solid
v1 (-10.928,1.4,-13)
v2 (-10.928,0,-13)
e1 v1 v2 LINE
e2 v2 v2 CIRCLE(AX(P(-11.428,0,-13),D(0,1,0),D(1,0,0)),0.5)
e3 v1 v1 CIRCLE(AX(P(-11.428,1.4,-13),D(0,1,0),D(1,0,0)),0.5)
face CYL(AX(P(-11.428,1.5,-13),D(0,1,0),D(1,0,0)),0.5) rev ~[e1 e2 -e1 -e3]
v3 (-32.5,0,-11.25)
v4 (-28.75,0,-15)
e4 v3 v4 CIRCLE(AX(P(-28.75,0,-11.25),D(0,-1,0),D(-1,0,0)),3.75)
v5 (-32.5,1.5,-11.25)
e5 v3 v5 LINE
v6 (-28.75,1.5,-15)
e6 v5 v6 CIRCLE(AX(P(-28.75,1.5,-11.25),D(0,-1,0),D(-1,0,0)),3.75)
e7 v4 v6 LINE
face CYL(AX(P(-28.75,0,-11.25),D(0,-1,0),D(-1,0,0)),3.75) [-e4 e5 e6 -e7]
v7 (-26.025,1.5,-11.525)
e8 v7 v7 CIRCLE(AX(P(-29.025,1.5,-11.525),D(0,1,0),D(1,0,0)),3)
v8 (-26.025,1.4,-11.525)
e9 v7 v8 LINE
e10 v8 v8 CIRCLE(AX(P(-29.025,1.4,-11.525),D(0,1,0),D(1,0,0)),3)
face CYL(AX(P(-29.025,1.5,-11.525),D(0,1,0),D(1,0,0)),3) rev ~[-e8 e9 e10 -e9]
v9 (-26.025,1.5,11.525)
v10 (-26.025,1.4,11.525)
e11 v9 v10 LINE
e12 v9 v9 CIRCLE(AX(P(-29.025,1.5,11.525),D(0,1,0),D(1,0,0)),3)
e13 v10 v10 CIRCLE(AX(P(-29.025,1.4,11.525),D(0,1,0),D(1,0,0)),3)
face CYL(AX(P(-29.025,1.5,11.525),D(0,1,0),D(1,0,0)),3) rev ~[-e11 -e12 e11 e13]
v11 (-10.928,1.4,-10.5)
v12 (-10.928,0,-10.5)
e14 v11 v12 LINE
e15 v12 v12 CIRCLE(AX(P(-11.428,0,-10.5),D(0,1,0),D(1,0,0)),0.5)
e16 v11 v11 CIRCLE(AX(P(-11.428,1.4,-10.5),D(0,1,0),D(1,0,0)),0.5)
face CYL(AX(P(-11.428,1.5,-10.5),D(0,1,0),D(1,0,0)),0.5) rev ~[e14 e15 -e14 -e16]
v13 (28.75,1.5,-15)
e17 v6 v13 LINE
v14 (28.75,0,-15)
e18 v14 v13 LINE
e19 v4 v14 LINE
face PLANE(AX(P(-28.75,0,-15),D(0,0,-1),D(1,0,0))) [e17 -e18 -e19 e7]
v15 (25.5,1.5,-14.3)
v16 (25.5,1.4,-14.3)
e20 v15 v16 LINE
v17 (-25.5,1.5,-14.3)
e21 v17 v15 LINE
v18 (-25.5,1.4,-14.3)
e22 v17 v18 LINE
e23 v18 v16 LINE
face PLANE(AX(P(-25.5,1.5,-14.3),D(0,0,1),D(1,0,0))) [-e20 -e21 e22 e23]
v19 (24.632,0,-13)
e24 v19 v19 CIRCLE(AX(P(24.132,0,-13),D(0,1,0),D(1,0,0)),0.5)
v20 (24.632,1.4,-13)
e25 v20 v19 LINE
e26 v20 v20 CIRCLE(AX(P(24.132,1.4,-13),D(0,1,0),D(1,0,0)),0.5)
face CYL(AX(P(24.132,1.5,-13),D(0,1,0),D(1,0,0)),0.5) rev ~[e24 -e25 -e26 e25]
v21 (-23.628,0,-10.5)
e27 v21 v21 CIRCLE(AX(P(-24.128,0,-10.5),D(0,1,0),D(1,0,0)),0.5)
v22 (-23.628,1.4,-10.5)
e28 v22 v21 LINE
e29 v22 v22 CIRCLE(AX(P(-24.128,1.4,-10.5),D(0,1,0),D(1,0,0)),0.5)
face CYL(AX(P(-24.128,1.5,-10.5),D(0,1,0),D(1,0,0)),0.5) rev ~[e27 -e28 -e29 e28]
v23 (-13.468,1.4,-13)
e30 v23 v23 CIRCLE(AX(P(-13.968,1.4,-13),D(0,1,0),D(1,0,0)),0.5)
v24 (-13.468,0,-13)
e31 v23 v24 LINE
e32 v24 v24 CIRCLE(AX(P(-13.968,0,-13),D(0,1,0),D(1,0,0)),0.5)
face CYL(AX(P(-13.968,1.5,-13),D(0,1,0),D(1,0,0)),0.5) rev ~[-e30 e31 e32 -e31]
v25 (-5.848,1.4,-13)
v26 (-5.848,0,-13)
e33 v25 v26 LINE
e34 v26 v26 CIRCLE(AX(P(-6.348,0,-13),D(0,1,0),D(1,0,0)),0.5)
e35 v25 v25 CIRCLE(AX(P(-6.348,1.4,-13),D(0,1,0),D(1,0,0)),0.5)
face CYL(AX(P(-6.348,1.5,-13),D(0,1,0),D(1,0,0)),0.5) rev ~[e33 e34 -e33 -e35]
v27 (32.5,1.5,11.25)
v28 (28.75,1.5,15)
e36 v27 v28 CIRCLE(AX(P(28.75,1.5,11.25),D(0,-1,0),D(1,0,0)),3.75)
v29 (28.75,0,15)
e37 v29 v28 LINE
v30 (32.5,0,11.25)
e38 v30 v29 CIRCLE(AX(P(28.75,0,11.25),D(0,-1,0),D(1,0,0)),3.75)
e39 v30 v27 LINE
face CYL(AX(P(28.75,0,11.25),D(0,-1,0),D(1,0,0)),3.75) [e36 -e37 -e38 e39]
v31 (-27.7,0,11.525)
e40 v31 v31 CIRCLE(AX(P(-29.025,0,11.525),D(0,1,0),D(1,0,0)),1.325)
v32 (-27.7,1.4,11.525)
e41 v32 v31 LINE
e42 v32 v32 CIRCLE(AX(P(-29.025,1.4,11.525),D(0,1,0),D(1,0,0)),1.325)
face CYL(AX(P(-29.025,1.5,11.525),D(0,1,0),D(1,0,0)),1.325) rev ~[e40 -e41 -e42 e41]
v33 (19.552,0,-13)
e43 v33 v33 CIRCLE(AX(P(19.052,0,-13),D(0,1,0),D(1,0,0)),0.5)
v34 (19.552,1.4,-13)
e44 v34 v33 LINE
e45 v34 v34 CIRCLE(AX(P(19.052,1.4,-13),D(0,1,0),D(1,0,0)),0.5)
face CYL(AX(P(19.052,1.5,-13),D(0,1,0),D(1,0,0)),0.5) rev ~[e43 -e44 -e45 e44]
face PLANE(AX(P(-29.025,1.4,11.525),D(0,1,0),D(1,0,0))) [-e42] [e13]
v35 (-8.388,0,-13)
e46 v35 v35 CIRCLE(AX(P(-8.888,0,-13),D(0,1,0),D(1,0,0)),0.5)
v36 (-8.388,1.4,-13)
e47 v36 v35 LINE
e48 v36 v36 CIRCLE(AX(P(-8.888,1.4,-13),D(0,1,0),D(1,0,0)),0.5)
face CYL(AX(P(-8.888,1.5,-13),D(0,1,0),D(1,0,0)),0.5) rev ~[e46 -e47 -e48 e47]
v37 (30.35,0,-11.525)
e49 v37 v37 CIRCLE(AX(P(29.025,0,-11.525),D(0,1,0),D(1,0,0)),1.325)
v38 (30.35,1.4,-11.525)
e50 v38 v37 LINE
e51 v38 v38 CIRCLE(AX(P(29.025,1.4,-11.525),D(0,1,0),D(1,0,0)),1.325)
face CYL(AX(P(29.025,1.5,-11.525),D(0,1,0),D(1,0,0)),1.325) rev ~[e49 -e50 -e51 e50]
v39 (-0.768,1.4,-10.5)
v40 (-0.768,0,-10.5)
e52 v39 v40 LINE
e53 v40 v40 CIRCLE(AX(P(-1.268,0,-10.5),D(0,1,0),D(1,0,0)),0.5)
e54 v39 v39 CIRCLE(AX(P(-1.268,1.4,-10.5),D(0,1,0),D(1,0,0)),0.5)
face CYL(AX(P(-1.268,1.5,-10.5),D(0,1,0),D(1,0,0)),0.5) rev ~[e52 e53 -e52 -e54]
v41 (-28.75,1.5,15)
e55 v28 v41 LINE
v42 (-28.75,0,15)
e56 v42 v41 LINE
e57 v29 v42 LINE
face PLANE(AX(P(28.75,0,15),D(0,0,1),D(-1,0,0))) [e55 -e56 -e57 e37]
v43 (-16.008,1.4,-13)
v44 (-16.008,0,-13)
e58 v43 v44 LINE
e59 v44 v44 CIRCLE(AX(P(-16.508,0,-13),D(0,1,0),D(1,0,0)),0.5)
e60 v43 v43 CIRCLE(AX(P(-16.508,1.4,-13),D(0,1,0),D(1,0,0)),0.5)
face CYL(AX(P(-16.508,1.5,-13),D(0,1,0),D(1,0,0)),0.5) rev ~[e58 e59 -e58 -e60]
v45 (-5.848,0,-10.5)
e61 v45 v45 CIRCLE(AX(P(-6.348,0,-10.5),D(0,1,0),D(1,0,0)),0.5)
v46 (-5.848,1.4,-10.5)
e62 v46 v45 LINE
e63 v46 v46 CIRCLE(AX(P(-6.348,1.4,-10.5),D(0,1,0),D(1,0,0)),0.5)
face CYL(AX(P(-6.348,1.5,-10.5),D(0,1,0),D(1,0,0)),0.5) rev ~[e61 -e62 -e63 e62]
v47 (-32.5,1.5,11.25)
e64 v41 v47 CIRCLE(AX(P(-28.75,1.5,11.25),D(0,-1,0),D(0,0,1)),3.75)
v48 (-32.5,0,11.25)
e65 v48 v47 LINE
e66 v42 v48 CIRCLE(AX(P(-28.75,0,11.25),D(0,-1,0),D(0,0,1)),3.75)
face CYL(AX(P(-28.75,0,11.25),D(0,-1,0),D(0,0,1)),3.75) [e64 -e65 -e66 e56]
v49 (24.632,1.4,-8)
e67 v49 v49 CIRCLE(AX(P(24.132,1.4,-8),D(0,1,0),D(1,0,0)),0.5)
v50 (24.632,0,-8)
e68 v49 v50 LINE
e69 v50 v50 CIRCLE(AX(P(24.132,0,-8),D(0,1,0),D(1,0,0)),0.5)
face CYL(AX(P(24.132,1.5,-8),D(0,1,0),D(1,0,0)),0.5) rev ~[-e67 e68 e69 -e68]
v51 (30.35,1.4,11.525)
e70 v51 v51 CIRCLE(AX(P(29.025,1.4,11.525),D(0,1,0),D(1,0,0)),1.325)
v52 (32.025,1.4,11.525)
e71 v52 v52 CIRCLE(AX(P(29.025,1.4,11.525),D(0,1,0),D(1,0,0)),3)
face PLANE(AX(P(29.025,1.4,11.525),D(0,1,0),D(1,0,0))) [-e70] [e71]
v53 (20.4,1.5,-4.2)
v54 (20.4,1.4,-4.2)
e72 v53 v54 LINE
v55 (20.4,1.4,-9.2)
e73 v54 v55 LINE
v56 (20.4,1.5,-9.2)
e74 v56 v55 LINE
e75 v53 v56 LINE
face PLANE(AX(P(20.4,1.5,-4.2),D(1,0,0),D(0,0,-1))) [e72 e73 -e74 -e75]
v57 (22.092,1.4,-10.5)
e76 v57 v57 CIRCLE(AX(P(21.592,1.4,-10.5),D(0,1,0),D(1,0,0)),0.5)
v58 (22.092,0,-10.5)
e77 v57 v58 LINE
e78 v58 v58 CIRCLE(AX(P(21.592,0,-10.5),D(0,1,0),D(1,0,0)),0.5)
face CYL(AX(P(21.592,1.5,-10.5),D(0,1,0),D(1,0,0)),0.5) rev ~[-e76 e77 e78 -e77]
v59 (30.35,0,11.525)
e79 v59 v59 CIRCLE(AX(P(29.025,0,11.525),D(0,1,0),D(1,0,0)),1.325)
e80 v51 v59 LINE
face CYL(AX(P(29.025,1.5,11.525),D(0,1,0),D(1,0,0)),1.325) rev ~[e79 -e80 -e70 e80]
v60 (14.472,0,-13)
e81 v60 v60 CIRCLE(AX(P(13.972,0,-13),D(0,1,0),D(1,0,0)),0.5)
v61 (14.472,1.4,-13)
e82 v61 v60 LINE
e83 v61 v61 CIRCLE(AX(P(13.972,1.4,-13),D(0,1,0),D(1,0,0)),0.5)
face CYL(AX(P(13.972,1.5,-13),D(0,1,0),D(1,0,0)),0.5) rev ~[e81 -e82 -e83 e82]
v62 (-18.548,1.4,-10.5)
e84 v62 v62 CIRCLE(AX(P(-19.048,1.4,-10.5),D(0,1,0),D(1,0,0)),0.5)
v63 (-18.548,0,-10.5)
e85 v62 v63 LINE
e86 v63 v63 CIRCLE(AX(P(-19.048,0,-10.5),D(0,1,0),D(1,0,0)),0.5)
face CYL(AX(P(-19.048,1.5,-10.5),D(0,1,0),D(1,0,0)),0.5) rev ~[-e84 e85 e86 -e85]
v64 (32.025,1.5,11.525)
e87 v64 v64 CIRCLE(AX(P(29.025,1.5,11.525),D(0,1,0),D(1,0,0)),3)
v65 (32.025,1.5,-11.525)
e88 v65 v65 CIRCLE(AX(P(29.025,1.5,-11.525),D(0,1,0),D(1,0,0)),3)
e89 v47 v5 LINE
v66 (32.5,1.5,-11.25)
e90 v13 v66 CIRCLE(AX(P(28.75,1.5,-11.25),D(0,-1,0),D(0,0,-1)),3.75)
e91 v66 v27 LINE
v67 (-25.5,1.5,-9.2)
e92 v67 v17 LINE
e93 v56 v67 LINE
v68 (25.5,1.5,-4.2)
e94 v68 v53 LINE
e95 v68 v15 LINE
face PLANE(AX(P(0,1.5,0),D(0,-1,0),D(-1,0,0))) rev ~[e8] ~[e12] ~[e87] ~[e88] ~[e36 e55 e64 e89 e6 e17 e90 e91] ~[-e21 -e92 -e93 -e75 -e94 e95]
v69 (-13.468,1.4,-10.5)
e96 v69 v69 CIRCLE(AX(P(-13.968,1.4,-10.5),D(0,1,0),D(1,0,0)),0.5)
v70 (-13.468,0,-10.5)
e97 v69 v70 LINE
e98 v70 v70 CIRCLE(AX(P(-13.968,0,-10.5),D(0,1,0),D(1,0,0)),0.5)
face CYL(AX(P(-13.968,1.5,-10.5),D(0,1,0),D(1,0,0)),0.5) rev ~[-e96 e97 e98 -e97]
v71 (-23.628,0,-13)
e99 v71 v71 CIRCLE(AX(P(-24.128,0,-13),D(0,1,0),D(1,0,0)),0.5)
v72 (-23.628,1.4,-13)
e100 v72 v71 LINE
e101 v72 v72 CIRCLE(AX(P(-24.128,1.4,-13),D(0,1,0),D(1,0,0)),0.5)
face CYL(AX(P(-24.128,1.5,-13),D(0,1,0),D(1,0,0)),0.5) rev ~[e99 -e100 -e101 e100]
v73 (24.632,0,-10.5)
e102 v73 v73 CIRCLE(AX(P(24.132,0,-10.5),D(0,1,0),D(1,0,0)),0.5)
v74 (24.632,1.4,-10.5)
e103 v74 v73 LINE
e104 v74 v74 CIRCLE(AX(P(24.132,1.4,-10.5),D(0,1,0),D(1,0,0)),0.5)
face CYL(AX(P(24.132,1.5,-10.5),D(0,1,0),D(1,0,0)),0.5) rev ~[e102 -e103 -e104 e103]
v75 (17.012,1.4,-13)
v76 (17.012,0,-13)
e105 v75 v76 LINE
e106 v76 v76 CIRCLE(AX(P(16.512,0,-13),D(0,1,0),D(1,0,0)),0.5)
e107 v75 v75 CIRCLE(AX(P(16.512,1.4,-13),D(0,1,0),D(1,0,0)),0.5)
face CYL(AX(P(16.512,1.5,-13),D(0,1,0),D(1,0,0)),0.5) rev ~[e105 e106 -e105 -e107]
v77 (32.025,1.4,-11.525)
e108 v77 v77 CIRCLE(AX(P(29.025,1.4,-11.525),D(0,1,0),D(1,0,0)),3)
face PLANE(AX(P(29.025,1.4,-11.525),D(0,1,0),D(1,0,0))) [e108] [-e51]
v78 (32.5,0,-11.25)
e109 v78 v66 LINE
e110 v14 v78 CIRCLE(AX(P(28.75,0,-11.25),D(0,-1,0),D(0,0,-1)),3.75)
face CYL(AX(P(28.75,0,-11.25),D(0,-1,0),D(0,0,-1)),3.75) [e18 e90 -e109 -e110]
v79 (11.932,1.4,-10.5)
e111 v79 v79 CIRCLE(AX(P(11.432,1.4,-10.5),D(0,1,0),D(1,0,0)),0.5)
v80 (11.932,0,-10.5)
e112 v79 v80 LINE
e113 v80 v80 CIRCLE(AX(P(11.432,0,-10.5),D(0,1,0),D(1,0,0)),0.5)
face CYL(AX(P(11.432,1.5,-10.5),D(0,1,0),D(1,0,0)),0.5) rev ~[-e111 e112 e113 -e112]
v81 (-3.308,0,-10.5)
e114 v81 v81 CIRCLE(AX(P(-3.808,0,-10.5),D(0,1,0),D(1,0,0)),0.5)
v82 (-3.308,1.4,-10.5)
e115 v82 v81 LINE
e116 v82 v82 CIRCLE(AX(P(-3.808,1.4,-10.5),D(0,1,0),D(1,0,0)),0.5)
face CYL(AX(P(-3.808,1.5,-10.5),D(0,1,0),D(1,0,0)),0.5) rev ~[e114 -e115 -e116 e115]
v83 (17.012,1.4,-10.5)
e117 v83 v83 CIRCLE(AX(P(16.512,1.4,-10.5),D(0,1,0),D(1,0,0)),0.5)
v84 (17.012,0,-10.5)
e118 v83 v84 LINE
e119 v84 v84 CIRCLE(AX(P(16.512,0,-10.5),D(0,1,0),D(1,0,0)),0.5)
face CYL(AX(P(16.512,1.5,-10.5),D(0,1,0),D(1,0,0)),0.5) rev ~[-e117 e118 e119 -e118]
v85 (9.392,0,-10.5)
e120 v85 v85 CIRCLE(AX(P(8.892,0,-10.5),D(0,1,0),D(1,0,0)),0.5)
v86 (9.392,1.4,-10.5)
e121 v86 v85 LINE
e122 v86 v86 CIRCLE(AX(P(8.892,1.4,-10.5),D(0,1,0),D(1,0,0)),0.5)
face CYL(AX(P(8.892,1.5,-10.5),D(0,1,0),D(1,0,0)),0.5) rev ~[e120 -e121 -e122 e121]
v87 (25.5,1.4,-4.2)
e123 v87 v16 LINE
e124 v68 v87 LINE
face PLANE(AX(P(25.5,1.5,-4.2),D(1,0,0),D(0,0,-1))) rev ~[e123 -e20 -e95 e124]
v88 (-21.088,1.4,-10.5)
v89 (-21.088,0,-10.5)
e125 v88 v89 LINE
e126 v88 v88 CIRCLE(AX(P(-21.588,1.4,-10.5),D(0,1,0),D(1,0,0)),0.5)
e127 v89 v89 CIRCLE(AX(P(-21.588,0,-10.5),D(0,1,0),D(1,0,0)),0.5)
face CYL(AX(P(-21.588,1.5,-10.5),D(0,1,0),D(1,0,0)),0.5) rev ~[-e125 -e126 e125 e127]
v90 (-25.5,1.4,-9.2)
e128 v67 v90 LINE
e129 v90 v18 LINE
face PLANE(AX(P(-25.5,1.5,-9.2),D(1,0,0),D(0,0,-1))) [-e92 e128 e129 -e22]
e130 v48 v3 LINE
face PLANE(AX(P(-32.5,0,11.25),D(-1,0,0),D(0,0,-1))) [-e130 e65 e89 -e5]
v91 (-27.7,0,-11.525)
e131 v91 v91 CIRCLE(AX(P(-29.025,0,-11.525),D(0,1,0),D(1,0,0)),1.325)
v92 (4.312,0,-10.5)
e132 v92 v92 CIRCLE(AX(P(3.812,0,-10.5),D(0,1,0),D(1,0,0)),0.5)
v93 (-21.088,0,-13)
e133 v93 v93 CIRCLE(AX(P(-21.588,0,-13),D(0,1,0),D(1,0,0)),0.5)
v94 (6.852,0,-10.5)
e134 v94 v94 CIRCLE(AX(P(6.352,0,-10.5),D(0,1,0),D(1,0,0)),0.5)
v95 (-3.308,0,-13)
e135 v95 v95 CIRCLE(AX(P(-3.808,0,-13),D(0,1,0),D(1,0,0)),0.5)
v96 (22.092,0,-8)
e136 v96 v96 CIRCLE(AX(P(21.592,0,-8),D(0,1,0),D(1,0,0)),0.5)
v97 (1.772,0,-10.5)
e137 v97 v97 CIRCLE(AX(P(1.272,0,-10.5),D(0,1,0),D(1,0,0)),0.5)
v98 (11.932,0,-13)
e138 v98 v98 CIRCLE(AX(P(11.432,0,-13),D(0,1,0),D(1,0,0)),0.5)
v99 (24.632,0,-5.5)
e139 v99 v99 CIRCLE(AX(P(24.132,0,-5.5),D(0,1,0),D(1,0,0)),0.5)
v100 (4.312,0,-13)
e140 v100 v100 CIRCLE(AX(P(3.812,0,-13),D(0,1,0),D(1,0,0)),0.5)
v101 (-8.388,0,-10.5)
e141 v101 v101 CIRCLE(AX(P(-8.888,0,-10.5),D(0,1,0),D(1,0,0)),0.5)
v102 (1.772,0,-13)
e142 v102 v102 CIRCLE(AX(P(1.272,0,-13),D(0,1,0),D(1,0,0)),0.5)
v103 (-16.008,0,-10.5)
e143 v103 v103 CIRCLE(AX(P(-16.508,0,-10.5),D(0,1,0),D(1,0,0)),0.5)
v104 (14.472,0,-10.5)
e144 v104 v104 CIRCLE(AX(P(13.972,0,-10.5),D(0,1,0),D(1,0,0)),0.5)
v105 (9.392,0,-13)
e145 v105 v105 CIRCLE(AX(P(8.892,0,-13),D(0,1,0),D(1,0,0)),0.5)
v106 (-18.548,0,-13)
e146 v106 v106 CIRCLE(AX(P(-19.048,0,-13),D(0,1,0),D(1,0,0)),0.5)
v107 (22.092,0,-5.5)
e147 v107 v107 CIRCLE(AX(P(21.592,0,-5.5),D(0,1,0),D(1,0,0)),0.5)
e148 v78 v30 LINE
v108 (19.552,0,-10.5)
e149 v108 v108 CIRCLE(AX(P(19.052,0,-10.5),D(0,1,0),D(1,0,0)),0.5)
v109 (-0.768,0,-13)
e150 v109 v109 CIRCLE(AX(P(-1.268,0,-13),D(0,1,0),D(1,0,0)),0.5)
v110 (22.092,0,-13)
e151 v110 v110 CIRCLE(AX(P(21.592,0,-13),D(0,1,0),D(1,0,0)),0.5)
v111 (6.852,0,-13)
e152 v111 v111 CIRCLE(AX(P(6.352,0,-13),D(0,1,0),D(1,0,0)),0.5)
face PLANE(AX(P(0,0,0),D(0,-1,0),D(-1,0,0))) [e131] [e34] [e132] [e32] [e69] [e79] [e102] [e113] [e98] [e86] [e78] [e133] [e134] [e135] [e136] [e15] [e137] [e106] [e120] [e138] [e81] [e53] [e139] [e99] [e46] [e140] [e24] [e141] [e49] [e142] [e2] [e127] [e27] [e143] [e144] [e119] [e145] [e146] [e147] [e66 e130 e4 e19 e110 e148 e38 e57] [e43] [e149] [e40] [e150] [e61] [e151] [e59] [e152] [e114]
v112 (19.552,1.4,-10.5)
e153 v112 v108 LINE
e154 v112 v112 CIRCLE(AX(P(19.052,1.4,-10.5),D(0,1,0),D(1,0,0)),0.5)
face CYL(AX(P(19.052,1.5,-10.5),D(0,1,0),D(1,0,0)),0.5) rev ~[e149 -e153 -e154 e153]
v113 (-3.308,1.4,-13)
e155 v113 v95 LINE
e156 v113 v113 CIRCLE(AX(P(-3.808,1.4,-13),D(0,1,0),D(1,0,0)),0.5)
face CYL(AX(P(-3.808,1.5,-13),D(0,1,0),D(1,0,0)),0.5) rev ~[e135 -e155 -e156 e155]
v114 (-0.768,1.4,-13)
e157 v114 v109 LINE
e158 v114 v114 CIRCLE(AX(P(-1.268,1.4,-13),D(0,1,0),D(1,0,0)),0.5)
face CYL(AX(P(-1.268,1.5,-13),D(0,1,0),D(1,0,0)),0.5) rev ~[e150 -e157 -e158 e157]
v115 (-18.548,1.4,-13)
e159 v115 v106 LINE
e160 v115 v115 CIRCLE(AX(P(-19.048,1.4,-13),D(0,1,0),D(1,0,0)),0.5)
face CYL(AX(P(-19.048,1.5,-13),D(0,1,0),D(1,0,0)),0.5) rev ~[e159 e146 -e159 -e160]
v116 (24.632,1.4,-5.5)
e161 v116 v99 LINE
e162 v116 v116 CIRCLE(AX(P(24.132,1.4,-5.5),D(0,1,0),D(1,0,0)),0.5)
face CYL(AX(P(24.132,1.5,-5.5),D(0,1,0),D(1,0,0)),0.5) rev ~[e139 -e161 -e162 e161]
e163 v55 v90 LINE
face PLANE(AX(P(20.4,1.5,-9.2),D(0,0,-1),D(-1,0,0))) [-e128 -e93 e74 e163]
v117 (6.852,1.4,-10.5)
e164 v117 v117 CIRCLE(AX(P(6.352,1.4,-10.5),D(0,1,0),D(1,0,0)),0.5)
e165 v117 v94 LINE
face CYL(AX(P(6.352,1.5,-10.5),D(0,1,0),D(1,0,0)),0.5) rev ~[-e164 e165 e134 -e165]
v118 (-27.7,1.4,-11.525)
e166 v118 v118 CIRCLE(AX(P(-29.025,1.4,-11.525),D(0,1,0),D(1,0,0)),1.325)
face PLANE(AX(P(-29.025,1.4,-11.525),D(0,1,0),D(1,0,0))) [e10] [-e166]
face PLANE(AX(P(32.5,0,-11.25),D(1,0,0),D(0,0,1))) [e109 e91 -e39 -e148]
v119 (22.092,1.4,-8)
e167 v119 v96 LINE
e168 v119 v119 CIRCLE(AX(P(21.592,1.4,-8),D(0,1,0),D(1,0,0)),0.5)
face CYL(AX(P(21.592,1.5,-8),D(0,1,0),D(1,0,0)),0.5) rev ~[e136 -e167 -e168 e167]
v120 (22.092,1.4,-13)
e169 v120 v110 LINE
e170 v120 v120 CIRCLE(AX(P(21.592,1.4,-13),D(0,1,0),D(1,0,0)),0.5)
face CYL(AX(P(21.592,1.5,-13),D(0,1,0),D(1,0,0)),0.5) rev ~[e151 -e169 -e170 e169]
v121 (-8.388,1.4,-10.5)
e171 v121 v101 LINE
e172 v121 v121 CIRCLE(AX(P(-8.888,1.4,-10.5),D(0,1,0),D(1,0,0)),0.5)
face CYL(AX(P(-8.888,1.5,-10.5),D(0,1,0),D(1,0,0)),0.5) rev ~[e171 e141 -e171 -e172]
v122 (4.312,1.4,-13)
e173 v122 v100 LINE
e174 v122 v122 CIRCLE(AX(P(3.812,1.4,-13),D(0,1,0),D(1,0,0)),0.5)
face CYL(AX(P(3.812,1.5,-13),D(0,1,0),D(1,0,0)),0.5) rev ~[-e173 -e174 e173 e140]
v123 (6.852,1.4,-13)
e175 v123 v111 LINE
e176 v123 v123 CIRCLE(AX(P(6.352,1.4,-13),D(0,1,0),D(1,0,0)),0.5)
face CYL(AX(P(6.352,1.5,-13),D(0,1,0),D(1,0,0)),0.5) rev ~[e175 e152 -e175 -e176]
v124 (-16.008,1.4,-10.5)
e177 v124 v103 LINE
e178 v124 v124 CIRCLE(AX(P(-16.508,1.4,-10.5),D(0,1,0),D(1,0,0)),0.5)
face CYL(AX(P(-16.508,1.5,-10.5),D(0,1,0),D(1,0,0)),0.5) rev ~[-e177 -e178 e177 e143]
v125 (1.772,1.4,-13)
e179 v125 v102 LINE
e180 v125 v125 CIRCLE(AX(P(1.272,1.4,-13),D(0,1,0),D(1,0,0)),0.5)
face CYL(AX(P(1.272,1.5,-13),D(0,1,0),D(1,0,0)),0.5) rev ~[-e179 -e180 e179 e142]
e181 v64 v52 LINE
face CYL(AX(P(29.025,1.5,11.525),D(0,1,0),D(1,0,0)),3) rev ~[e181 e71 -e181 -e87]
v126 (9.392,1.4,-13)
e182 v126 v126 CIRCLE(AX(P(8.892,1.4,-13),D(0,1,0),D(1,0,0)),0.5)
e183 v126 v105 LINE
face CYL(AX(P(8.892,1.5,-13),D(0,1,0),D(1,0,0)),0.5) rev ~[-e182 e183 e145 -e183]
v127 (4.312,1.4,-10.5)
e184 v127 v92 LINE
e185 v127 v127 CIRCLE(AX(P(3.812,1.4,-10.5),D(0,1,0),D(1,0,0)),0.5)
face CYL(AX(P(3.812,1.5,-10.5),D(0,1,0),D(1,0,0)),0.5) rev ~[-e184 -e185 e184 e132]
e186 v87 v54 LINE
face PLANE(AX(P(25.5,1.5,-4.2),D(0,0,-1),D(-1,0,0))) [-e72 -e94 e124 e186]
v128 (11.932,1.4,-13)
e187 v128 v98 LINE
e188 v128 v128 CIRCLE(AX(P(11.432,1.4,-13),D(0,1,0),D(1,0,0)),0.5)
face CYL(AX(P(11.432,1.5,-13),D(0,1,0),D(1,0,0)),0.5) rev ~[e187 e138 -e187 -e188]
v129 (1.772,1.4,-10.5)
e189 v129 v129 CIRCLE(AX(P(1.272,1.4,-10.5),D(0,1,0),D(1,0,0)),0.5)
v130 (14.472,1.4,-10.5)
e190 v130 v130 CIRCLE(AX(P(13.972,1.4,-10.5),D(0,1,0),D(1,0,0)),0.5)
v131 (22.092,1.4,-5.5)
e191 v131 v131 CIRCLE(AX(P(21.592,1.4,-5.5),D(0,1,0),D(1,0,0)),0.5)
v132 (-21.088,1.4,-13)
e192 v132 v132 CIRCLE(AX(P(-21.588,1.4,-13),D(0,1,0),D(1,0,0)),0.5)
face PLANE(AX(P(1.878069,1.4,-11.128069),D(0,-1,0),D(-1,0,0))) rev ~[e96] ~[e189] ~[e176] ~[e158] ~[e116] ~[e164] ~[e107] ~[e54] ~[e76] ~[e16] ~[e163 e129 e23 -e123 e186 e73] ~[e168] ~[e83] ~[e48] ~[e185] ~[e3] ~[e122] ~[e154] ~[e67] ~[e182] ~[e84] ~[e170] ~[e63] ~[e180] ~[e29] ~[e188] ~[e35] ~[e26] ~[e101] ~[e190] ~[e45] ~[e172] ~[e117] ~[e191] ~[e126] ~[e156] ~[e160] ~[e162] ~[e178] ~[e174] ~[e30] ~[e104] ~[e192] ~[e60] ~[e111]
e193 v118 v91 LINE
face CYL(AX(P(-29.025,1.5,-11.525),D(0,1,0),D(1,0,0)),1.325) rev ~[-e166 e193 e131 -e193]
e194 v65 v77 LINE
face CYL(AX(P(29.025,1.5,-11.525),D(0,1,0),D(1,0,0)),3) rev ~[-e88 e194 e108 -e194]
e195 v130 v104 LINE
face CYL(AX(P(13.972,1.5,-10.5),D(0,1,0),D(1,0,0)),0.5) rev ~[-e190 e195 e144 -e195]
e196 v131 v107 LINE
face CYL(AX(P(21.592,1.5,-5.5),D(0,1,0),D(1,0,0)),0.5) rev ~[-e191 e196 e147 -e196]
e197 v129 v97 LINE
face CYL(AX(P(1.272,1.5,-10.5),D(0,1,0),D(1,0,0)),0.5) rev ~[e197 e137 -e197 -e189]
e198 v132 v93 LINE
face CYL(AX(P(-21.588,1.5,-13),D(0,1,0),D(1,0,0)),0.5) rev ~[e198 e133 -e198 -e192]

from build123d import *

# Parameters (mm, degrees)
BOSS_EXTRUDE1_DEPTH = 1.5
SKETCH2_R           = 1.325
CUT_EXTRUDE1_DEPTH  = 2.5
SKETCH3_R           = 0.5
CUT_EXTRUDE2_DEPTH  = 2.5
LPATTERN1_COUNT     = 20
LPATTERN1_PITCH     = 2.54
SKETCH5_R           = 0.5
CUT_EXTRUDE4_DEPTH  = 2.5
SKETCH4_R           = 3
CUT_EXTRUDE3_DEPTH  = 0.1


with BuildPart() as part:
    # Sketch1 → Boss-Extrude1 (new body)
    with BuildSketch(Plane(origin=(0, 0, 0), x_dir=(1, 0, 0), z_dir=(0, 1, 0))):
        with BuildLine():
            Line((-28.75, 15), (28.75, 15))
            ThreePointArc((28.75, 15), (31.401650429, 13.901650429), (32.5, 11.25))
            Line((32.5, 11.25), (32.5, -11.25))
            ThreePointArc((32.5, -11.25), (31.401650429, -13.901650429), (28.75, -15))
            Line((28.75, -15), (-28.75, -15))
            ThreePointArc((-28.75, -15), (-31.401650429, -13.901650429), (-32.5, -11.25))
            Line((-32.5, -11.25), (-32.5, 11.25))
            ThreePointArc((-32.5, 11.25), (-31.401650429, 13.901650429), (-28.75, 15))
        make_face()
    extrude(amount=BOSS_EXTRUDE1_DEPTH)

    # Sketch2 → Cut-Extrude1 (cut, through all)
    with BuildSketch(Plane(origin=(0, 1.5, 0), x_dir=(1, 0, 0), z_dir=(0, 1, 0))):
        with Locations((-29.025, 11.525)):
            Circle(SKETCH2_R)
        with Locations((29.025, 11.525)):
            Circle(SKETCH2_R)
        with Locations((29.025, -11.525)):
            Circle(SKETCH2_R)
        with Locations((-29.025, -11.525)):
            Circle(SKETCH2_R)
    extrude(amount=-CUT_EXTRUDE1_DEPTH, mode=Mode.SUBTRACT)

    # Sketch3 → Cut-Extrude2 (cut, through all)
    with BuildSketch(Plane(origin=(0, 1.5, 0), x_dir=(1, 0, 0), z_dir=(0, 1, 0))):
        with Locations((-24.128, 13)):
            Circle(SKETCH3_R)
        with Locations((-24.128, 10.5)):
            Circle(SKETCH3_R)
    cut_extrude2 = extrude(amount=-CUT_EXTRUDE2_DEPTH, mode=Mode.SUBTRACT)

    # LPattern1: Cut-Extrude2 ×20
    with Locations(*[(i * LPATTERN1_PITCH, 0, 0) for i in range(1, LPATTERN1_COUNT)]):
        add(cut_extrude2, mode=Mode.SUBTRACT)

    # Sketch5 → Cut-Extrude4 (cut, through all)
    with BuildSketch(Plane(origin=(0, 1.5, 0), x_dir=(1, 0, 0), z_dir=(0, 1, 0))):
        with Locations((21.592, 5.5)):
            Circle(SKETCH5_R)
        with Locations((24.132, 5.5)):
            Circle(SKETCH5_R)
        with Locations((21.592, 8)):
            Circle(SKETCH5_R)
        with Locations((24.132, 8)):
            Circle(SKETCH5_R)
    extrude(amount=-CUT_EXTRUDE4_DEPTH, mode=Mode.SUBTRACT)

    # Sketch4 → Cut-Extrude3 (cut)
    with BuildSketch(Plane(origin=(0, 1.5, 0), x_dir=(1, 0, 0), z_dir=(0, 1, 0))):
        with Locations((-29.025, 11.525)):
            Circle(SKETCH4_R)
        with Locations((-29.025, -11.525)):
            Circle(SKETCH4_R)
        with Locations((29.025, -11.525)):
            Circle(SKETCH4_R)
        with Locations((29.025, 11.525)):
            Circle(SKETCH4_R)
        Polygon((-25.5, 14.3), (25.5, 14.3), (25.5, 9.2), (25.5, 4.2), (20.4, 4.2), (20.4, 9.2), (-25.5, 9.2), align=None)
    extrude(amount=-CUT_EXTRUDE3_DEPTH, mode=Mode.SUBTRACT)


solid = part.part
